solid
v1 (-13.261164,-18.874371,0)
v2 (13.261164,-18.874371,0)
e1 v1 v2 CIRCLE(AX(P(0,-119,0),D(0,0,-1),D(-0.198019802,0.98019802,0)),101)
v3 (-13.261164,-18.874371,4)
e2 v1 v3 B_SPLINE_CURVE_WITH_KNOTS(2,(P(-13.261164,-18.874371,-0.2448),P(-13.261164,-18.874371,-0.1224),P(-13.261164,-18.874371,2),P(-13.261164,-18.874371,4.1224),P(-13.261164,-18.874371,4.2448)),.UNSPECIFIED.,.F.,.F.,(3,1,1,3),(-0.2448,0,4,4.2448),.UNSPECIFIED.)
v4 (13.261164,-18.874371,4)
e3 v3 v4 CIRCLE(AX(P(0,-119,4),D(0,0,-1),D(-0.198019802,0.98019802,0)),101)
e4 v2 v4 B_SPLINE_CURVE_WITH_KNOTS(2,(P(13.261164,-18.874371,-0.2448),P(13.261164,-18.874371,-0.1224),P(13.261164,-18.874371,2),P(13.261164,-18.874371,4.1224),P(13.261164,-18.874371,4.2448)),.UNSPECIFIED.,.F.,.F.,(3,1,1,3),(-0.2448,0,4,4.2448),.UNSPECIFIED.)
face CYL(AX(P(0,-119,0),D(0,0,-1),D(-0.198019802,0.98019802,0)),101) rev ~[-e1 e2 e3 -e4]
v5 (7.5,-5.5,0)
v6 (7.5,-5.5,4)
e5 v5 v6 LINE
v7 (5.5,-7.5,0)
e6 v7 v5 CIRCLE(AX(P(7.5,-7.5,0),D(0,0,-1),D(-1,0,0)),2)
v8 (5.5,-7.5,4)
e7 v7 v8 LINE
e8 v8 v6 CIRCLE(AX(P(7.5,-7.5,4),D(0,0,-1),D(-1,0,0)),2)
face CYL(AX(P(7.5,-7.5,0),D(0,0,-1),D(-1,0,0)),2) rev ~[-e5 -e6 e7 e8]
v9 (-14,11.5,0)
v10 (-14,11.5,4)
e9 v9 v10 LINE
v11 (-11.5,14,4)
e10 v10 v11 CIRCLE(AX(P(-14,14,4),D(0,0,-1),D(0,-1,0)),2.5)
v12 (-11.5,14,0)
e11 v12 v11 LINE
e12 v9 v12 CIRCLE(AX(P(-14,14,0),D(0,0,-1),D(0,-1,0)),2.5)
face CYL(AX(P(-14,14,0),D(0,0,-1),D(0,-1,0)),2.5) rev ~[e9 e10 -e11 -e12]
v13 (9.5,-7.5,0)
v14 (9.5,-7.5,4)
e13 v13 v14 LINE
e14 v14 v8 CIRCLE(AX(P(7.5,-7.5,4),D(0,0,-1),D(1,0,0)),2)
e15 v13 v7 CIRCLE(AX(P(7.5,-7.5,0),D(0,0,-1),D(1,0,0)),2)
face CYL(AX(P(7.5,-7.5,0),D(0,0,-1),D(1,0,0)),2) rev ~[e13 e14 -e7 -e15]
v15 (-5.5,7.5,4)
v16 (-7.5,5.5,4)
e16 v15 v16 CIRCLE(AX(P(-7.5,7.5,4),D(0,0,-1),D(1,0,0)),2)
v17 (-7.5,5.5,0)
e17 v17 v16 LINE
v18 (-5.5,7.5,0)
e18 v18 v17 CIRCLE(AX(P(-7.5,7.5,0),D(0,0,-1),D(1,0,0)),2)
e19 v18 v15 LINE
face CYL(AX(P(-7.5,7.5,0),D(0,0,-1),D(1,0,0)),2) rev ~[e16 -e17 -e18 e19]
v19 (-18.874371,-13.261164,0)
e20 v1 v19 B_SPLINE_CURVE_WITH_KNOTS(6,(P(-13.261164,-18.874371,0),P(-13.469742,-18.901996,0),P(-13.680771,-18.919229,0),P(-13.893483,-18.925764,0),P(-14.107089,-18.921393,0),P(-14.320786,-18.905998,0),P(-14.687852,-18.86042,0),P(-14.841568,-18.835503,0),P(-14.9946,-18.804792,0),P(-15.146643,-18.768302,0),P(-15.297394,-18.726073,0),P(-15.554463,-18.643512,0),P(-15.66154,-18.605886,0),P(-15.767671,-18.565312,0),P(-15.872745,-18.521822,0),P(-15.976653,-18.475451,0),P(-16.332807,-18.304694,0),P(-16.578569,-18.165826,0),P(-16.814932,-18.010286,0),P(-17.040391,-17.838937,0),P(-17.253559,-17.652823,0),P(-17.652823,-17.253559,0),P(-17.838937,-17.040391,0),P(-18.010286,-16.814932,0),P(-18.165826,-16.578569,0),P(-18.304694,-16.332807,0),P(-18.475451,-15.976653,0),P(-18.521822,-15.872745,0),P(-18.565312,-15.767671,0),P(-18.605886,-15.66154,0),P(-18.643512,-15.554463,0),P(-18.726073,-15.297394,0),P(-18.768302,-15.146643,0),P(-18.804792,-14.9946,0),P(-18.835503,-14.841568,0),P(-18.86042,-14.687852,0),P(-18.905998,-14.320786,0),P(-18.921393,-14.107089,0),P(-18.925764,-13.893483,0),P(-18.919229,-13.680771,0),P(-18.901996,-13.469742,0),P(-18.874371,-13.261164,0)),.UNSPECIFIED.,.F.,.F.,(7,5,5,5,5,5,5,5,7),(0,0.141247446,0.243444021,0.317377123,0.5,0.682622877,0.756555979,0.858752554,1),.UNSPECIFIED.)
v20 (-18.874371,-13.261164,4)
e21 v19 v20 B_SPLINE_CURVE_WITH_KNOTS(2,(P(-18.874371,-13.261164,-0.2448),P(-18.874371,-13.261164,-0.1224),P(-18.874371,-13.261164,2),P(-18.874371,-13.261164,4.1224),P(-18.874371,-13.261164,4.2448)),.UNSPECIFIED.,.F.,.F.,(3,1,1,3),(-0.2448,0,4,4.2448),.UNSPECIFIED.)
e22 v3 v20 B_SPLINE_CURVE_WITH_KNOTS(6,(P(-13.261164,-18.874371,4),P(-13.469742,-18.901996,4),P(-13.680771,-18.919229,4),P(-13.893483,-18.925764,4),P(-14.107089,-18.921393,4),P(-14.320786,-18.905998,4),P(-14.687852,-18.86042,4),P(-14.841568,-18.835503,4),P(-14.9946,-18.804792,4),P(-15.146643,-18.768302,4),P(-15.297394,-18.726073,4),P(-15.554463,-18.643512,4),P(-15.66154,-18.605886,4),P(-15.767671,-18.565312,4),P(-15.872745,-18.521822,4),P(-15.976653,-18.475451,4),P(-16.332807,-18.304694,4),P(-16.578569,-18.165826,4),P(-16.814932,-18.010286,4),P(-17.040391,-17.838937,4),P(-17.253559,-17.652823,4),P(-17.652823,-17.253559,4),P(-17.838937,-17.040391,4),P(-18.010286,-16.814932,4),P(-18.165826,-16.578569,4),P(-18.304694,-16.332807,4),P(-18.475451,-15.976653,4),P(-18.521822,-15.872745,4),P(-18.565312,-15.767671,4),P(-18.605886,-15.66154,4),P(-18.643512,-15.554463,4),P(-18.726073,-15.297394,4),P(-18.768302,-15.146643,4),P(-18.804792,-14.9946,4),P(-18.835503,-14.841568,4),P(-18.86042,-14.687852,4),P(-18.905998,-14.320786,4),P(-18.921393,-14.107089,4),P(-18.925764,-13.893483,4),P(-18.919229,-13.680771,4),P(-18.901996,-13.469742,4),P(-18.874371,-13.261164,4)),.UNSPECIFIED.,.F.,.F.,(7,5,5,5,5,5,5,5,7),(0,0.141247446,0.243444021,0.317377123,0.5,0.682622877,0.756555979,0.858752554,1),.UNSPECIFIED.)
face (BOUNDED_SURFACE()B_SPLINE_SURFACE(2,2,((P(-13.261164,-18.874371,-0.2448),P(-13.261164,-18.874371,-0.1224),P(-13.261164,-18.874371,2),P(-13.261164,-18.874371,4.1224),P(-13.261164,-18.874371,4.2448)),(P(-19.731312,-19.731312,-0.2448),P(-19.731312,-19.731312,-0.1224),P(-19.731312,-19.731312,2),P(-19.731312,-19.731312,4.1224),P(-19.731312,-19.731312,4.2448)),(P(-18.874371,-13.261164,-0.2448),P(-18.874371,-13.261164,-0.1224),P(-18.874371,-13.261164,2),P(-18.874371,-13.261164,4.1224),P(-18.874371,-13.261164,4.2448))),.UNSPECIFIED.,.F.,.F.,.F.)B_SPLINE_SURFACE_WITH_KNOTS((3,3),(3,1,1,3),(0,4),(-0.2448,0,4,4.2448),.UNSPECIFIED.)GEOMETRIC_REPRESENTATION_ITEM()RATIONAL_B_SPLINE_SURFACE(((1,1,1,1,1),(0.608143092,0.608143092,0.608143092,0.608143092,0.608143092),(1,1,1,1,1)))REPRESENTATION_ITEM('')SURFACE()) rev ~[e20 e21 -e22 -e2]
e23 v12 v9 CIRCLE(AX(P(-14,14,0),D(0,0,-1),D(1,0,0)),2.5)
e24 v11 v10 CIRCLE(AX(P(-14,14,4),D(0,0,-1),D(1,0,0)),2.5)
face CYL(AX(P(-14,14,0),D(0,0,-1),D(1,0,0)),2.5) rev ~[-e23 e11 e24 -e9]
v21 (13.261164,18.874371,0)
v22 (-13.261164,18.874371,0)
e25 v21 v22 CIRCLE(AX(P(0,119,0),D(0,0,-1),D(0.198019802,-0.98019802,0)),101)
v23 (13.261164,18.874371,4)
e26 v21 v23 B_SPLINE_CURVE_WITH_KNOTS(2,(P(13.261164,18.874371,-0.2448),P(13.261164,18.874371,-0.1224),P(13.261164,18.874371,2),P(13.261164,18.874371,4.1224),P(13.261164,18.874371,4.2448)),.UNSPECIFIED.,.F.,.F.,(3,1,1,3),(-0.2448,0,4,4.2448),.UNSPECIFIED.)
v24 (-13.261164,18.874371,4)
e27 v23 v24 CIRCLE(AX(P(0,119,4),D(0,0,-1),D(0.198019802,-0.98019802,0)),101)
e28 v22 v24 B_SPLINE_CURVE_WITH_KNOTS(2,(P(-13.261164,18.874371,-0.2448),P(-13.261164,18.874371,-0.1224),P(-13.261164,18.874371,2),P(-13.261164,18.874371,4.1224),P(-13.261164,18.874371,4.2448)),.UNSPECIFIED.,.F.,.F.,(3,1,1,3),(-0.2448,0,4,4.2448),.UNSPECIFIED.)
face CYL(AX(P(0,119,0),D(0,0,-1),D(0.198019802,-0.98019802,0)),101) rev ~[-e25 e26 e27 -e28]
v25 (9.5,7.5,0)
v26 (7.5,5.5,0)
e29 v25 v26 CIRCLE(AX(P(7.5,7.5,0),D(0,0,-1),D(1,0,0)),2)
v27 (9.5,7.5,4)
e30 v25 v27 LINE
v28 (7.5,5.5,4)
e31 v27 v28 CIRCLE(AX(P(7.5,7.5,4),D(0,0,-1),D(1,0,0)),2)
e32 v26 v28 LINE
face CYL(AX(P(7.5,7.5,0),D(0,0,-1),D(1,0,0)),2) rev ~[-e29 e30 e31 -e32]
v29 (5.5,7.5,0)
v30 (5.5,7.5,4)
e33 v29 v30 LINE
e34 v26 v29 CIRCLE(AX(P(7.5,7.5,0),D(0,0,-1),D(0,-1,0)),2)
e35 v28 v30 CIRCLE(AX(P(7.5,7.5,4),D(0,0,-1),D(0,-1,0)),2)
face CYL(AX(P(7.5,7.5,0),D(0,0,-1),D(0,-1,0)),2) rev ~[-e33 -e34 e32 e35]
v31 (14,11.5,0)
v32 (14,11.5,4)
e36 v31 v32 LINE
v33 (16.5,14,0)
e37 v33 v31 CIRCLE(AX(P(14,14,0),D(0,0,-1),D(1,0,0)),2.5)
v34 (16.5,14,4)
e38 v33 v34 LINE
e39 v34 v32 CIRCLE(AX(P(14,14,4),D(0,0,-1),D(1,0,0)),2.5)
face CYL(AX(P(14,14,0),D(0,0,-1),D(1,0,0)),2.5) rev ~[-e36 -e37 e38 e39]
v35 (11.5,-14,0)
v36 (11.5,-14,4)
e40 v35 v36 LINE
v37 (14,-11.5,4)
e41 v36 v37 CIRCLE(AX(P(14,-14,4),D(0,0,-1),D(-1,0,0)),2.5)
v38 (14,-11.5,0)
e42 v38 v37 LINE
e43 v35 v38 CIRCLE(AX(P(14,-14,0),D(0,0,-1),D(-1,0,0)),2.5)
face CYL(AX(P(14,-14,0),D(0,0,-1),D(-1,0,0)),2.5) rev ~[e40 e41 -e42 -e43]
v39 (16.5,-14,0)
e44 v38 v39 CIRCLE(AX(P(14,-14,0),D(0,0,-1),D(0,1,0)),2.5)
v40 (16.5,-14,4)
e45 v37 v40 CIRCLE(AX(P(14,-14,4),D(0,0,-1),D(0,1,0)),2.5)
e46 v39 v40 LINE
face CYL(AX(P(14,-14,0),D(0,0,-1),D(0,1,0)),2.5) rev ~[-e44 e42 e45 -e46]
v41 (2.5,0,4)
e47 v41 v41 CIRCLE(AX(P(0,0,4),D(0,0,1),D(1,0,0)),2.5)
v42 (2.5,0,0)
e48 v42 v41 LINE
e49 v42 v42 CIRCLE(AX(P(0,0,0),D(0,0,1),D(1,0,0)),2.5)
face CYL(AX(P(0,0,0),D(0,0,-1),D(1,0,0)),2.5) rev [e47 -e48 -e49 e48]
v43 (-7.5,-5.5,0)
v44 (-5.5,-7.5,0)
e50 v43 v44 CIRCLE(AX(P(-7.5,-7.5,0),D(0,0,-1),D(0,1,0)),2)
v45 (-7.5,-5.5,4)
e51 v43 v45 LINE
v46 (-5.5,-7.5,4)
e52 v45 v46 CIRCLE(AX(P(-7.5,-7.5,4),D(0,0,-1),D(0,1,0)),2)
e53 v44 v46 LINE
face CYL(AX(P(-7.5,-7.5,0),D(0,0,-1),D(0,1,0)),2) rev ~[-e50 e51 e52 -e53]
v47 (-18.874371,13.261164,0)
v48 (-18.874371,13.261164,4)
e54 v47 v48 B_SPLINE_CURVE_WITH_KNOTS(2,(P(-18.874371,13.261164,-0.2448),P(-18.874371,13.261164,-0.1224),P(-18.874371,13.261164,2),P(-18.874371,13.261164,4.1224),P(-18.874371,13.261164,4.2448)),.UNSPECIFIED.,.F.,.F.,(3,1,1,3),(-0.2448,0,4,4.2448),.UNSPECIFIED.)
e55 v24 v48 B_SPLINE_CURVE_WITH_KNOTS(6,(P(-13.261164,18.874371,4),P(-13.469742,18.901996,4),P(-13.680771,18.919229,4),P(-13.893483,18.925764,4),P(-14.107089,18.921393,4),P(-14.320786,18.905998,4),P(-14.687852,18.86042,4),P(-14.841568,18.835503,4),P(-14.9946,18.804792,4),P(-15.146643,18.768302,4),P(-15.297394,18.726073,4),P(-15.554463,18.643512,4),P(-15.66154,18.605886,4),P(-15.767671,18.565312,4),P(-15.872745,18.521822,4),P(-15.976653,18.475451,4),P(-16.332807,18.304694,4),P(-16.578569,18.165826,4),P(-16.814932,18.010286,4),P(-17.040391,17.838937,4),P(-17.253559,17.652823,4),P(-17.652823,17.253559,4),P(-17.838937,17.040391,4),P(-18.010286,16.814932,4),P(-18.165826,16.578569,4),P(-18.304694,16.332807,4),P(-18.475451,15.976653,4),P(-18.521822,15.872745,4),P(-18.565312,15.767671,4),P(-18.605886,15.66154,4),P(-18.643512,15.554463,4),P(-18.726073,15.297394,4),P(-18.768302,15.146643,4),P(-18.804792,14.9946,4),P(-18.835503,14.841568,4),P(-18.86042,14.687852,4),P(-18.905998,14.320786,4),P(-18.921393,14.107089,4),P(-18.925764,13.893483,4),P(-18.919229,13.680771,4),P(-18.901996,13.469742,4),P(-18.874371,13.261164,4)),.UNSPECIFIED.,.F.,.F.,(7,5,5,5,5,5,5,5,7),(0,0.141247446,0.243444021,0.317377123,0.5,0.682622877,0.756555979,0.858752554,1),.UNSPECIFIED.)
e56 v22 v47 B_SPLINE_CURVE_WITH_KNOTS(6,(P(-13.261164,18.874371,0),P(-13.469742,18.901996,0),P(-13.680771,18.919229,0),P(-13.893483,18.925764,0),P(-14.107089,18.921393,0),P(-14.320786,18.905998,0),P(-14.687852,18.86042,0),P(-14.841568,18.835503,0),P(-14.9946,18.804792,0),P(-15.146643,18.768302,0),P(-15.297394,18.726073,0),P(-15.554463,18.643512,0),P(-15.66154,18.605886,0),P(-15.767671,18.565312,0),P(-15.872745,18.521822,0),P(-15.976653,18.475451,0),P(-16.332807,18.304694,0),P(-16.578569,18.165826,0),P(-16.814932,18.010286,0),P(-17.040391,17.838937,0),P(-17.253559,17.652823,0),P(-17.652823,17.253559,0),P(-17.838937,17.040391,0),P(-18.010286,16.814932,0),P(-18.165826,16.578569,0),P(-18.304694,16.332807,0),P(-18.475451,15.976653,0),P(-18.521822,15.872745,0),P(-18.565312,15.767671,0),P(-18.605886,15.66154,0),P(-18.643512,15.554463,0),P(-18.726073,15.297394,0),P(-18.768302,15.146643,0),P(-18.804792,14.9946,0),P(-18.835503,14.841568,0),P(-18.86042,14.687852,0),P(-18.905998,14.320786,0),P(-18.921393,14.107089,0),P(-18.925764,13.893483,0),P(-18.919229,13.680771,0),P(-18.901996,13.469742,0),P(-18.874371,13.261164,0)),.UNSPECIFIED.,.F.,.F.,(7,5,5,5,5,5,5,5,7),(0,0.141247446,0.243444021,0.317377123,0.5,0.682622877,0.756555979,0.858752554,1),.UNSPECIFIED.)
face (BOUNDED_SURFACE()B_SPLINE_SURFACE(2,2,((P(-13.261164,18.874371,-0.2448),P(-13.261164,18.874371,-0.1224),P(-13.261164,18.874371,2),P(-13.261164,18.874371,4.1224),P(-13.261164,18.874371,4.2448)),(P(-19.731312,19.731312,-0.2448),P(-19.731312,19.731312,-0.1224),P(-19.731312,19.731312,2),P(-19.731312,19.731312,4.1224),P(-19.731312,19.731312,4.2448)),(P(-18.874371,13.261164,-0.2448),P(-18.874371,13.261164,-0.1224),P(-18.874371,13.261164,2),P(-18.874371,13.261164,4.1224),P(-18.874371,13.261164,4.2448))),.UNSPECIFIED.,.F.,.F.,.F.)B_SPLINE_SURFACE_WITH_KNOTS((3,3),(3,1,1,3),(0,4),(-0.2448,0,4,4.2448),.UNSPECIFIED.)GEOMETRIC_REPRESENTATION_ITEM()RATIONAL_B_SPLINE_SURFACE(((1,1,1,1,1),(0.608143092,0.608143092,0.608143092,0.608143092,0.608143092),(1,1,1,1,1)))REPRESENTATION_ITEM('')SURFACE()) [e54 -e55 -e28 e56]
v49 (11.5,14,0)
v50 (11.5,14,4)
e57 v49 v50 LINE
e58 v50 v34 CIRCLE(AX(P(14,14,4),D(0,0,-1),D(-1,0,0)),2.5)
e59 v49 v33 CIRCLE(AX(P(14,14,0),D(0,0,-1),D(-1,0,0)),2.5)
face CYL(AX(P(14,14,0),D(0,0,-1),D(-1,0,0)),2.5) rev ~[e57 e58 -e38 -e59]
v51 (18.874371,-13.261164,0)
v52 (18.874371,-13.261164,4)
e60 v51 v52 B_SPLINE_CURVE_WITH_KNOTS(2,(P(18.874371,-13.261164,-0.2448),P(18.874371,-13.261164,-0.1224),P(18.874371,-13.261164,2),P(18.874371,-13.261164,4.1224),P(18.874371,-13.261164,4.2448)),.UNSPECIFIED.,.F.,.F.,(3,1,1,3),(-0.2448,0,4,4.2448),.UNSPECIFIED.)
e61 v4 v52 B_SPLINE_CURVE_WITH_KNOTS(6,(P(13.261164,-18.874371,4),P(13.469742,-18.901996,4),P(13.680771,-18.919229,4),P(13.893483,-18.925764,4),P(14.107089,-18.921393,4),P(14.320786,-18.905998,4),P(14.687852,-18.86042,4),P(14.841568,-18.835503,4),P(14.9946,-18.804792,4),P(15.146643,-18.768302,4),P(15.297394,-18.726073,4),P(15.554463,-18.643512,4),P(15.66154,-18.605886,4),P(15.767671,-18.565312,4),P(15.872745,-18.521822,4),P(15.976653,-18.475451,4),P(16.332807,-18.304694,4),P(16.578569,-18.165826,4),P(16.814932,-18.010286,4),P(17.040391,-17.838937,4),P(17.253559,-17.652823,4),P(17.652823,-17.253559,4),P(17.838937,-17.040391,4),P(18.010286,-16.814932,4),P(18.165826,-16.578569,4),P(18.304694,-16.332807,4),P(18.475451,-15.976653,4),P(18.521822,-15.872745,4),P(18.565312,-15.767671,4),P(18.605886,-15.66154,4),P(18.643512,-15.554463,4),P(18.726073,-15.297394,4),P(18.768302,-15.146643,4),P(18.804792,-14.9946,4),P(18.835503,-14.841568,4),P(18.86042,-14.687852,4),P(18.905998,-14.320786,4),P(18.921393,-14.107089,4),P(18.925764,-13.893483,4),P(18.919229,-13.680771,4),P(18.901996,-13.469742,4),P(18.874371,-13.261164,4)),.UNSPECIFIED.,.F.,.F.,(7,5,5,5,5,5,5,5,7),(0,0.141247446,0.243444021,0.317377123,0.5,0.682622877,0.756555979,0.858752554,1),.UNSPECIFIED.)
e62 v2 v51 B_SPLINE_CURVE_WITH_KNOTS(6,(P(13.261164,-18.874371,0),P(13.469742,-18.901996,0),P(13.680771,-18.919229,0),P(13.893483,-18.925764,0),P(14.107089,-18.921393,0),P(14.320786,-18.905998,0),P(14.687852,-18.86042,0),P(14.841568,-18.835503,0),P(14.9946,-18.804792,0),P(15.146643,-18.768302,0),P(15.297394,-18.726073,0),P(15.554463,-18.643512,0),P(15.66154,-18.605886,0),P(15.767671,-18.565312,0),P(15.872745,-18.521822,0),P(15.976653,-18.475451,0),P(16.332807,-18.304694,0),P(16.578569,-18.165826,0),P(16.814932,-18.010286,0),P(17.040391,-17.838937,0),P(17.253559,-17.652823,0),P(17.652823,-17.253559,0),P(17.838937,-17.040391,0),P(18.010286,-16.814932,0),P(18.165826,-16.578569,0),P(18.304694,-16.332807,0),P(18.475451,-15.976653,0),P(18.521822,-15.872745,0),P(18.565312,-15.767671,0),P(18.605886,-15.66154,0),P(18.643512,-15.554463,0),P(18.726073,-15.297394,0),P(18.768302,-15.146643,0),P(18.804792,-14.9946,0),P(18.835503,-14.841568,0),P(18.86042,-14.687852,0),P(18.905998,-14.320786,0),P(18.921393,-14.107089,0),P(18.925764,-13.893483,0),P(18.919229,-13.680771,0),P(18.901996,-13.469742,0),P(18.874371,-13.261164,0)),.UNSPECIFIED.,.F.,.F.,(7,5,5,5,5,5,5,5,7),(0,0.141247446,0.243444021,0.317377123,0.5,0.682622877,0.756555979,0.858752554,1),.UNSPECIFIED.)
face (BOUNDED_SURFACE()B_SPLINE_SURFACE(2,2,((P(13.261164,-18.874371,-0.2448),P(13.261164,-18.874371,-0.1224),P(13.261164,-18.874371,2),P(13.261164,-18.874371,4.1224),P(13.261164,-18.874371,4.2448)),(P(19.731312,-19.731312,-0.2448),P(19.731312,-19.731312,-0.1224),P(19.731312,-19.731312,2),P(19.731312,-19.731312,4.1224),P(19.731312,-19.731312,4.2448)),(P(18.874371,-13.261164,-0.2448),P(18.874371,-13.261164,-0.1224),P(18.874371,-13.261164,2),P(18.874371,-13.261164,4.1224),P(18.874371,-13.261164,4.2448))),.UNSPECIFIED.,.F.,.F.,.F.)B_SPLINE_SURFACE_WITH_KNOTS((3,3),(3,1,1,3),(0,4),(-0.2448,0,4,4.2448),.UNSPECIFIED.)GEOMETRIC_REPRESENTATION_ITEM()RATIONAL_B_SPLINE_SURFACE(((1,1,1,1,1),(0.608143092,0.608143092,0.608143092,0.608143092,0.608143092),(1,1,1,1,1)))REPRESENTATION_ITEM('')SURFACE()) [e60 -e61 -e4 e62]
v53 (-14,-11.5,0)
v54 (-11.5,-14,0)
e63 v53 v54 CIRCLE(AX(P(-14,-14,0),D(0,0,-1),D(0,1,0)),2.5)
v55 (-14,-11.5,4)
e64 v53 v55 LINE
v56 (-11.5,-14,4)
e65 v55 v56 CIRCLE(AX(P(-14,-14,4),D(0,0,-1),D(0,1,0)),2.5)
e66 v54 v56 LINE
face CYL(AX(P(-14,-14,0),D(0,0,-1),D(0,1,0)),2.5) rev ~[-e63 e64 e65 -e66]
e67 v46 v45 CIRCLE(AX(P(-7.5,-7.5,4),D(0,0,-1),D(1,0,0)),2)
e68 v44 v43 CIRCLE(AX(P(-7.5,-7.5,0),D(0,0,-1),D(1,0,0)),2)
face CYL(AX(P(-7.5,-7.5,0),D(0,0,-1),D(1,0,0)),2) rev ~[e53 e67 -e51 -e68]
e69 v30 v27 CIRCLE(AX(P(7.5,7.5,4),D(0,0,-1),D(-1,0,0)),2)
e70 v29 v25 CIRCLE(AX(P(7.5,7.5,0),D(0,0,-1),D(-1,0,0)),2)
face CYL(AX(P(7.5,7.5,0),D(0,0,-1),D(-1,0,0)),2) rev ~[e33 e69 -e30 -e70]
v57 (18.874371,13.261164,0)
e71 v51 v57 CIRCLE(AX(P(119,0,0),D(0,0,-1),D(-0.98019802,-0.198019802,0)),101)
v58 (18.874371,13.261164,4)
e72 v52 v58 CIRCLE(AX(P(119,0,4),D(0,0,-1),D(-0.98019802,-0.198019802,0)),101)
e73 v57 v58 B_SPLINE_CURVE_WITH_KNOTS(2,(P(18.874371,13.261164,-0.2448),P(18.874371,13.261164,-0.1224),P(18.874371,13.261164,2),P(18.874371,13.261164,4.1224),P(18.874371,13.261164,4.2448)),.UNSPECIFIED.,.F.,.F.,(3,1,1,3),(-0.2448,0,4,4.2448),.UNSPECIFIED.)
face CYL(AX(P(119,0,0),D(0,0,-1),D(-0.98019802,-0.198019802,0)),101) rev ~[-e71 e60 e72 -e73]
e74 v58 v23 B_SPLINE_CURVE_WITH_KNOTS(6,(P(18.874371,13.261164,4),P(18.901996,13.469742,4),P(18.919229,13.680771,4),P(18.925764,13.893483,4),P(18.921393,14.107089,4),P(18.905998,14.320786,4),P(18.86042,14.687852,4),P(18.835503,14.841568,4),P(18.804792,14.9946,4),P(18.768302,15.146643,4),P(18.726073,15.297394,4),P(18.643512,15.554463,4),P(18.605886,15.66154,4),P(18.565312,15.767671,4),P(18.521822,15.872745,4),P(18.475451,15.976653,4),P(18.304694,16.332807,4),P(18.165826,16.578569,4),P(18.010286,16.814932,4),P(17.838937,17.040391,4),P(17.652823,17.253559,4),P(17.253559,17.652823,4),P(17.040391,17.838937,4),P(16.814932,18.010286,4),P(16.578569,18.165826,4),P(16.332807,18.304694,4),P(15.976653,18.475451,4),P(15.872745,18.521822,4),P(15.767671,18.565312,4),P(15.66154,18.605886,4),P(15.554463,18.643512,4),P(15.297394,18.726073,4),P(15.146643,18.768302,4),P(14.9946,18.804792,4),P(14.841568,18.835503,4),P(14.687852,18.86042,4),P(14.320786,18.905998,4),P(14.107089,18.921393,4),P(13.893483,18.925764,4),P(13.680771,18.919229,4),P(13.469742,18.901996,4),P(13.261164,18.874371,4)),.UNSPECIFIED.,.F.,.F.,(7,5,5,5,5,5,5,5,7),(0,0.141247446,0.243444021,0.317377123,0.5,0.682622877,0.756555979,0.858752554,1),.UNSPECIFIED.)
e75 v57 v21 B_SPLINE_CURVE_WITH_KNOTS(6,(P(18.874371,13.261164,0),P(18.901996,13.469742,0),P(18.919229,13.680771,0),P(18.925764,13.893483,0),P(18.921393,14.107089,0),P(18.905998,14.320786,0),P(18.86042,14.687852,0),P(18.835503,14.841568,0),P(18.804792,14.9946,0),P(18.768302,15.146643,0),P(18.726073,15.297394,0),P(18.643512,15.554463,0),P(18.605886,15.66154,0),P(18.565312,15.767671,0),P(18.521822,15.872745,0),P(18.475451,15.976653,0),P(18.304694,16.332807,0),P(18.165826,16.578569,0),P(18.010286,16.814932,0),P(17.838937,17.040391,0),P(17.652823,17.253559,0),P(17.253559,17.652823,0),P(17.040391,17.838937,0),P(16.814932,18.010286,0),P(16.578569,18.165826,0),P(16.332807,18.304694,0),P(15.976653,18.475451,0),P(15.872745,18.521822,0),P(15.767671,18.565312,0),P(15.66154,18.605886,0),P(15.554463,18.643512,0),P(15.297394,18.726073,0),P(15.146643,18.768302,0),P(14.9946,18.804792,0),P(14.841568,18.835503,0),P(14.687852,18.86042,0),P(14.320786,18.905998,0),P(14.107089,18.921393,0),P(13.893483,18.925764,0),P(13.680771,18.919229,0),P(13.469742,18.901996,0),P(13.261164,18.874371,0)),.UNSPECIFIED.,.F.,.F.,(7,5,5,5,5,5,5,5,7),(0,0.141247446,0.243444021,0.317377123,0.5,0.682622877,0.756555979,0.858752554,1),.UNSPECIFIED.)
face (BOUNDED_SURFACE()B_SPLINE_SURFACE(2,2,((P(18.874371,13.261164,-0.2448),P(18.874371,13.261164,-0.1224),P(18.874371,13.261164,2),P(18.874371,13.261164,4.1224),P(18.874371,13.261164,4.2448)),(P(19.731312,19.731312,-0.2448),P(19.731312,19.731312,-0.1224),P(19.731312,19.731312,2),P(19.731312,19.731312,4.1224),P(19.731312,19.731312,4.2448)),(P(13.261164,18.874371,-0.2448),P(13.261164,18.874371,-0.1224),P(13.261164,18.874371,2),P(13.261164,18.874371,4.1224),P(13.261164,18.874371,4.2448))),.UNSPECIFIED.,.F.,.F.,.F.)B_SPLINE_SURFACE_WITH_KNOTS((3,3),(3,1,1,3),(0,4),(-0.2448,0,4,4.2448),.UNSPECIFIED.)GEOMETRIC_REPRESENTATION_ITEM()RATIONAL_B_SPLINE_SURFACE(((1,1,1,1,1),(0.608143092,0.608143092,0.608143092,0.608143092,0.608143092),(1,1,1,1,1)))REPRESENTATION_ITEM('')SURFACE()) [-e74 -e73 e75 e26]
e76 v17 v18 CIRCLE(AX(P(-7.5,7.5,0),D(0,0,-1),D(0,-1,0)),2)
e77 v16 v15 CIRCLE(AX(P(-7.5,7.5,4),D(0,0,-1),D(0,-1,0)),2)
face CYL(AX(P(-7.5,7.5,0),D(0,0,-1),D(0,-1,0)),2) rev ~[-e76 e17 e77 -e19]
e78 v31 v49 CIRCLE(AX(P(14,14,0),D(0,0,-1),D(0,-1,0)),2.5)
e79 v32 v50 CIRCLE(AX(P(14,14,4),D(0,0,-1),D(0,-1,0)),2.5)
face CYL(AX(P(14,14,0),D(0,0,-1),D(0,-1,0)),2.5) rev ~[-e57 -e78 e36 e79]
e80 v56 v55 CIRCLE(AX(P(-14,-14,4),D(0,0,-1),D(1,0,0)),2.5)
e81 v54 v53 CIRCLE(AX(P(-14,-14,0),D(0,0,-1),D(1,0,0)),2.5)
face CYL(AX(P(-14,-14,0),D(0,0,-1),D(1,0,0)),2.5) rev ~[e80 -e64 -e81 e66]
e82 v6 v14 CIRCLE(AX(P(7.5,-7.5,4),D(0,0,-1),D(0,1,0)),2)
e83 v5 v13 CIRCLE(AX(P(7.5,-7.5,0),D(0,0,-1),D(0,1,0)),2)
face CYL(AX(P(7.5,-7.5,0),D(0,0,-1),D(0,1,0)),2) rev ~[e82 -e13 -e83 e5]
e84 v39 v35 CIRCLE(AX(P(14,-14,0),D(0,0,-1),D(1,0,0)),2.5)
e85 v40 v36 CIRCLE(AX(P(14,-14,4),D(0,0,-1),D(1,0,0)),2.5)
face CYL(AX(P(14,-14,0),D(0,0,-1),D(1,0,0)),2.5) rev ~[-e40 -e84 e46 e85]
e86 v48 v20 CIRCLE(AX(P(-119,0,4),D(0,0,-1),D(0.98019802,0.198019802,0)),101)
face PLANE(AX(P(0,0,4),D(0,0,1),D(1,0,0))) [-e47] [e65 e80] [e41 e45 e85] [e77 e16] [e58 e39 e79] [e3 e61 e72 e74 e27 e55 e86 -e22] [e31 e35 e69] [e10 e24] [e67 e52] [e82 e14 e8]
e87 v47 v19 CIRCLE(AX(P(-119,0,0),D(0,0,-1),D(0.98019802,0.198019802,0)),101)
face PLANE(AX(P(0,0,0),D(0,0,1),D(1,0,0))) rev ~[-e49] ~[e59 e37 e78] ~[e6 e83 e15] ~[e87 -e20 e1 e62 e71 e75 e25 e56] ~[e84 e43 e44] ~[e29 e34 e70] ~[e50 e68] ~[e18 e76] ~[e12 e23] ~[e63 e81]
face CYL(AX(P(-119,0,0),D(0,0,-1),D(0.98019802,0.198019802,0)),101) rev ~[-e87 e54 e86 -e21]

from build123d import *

# Parameters (mm, degrees)
F0_R     = 2.5
F1_DEPTH = 4
F2_R     = 5


with BuildPart() as f1:
    # F0 (on Top) → F1 (new body)
    with BuildSketch(Plane.XY):
        with BuildLine():
            ThreePointArc((-20, -20), (0, -18), (20, -20))
            ThreePointArc((20, -20), (18, 0), (20, 20))
            ThreePointArc((20, 20), (0, 18), (-20, 20))
            ThreePointArc((-20, 20), (-18, 0), (-20, -20))
        make_face()
        with BuildLine():
            ThreePointArc((16.5, 14), (15.767766953, 12.232233047), (14, 11.5))
            Line((14, 11.5), (14, -11.5))
            ThreePointArc((14, -11.5), (15.767766953, -12.232233047), (16.5, -14))
            ThreePointArc((16.5, -14), (14, -16.5), (11.5, -14))
            Line((11.5, -14), (-11.5, -14))
            ThreePointArc((-11.5, -14), (-15.767766953, -15.767766953), (-14, -11.5))
            Line((-14, -11.5), (-14, 11.5))
            ThreePointArc((-14, 11.5), (-15.767766953, 15.767766953), (-11.5, 14))
            Line((-11.5, 14), (11.5, 14))
            ThreePointArc((11.5, 14), (14, 16.5), (16.5, 14))
        make_face(mode=Mode.SUBTRACT)
        with BuildLine():
            Line((14, -11.5), (14, 11.5))
            ThreePointArc((14, 11.5), (12.232233047, 12.232233047), (11.5, 14))
            Line((11.5, 14), (-11.5, 14))
            ThreePointArc((-11.5, 14), (-12.232233047, 12.232233047), (-14, 11.5))
            Line((-14, 11.5), (-14, -11.5))
            ThreePointArc((-14, -11.5), (-12.232233047, -12.232233047), (-11.5, -14))
            Line((-11.5, -14), (11.5, -14))
            ThreePointArc((11.5, -14), (12.232233047, -12.232233047), (14, -11.5))
        make_face()
        with BuildLine():
            Line((2.5, -7.5), (-2.5, -7.5))
            ThreePointArc((-2.5, -7.5), (-11.0355339059, -11.0355339059), (-7.5, -2.5))
            Line((-7.5, -2.5), (-7.5, 2.5))
            ThreePointArc((-7.5, 2.5), (-11.0355339059, 11.0355339059), (-2.5, 7.5))
            Line((-2.5, 7.5), (2.5, 7.5))
            ThreePointArc((2.5, 7.5), (7.5, 12.5), (12.5, 7.5))
            ThreePointArc((12.5, 7.5), (11.0355339059, 3.9644660941), (7.5, 2.5))
            Line((7.5, 2.5), (7.5, -2.5))
            ThreePointArc((7.5, -2.5), (11.0355339059, -3.9644660941), (12.5, -7.5))
            ThreePointArc((12.5, -7.5), (7.5, -12.5), (2.5, -7.5))
        make_face(mode=Mode.SUBTRACT)
        with BuildLine():
            ThreePointArc((-7.5, -2.5), (-3.9644660941, -3.9644660941), (-2.5, -7.5))
            Line((-2.5, -7.5), (2.5, -7.5))
            ThreePointArc((2.5, -7.5), (3.9644660941, -3.9644660941), (7.5, -2.5))
            Line((7.5, -2.5), (7.5, 2.5))
            ThreePointArc((7.5, 2.5), (3.9644660941, 3.9644660941), (2.5, 7.5))
            Line((2.5, 7.5), (-2.5, 7.5))
            ThreePointArc((-2.5, 7.5), (-3.9644660941, 3.9644660941), (-7.5, 2.5))
            Line((-7.5, 2.5), (-7.5, -2.5))
        make_face()
        Circle(F0_R, mode=Mode.SUBTRACT)
        with BuildLine():
            Line((-7.5, 5.5), (-7.5, 2.5))
            ThreePointArc((-7.5, 2.5), (-3.9644660941, 3.9644660941), (-2.5, 7.5))
            Line((-2.5, 7.5), (-5.5, 7.5))
            ThreePointArc((-5.5, 7.5), (-6.0857864376, 6.0857864376), (-7.5, 5.5))
        make_face()
        with BuildLine():
            ThreePointArc((-2.5, 7.5), (-11.0355339059, 11.0355339059), (-7.5, 2.5))
            Line((-7.5, 2.5), (-7.5, 5.5))
            ThreePointArc((-7.5, 5.5), (-8.9142135624, 8.9142135624), (-5.5, 7.5))
            Line((-5.5, 7.5), (-2.5, 7.5))
        make_face()
        with BuildLine():
            Line((7.5, 5.5), (7.5, 2.5))
            ThreePointArc((7.5, 2.5), (11.0355339059, 3.9644660941), (12.5, 7.5))
            ThreePointArc((12.5, 7.5), (7.5, 12.5), (2.5, 7.5))
            Line((2.5, 7.5), (5.5, 7.5))
            ThreePointArc((5.5, 7.5), (7.5, 9.5), (9.5, 7.5))
            ThreePointArc((9.5, 7.5), (8.9142135624, 6.0857864376), (7.5, 5.5))
        make_face()
        with BuildLine():
            ThreePointArc((2.5, 7.5), (3.9644660941, 3.9644660941), (7.5, 2.5))
            Line((7.5, 2.5), (7.5, 5.5))
            ThreePointArc((7.5, 5.5), (6.0857864376, 6.0857864376), (5.5, 7.5))
            Line((5.5, 7.5), (2.5, 7.5))
        make_face()
        with BuildLine():
            ThreePointArc((-7.5, -2.5), (-11.0355339059, -11.0355339059), (-2.5, -7.5))
            Line((-2.5, -7.5), (-5.5, -7.5))
            ThreePointArc((-5.5, -7.5), (-8.9142135624, -8.9142135624), (-7.5, -5.5))
            Line((-7.5, -5.5), (-7.5, -2.5))
        make_face()
        with BuildLine():
            Line((5.5, -7.5), (2.5, -7.5))
            ThreePointArc((2.5, -7.5), (7.5, -12.5), (12.5, -7.5))
            ThreePointArc((12.5, -7.5), (11.0355339059, -3.9644660941), (7.5, -2.5))
            Line((7.5, -2.5), (7.5, -5.5))
            ThreePointArc((7.5, -5.5), (8.9142135624, -6.0857864376), (9.5, -7.5))
            ThreePointArc((9.5, -7.5), (7.5, -9.5), (5.5, -7.5))
        make_face()
        with BuildLine():
            ThreePointArc((7.5, -2.5), (3.9644660941, -3.9644660941), (2.5, -7.5))
            Line((2.5, -7.5), (5.5, -7.5))
            ThreePointArc((5.5, -7.5), (6.0857864376, -6.0857864376), (7.5, -5.5))
            Line((7.5, -5.5), (7.5, -2.5))
        make_face()
        with BuildLine():
            Line((-5.5, -7.5), (-2.5, -7.5))
            ThreePointArc((-2.5, -7.5), (-3.9644660941, -3.9644660941), (-7.5, -2.5))
            Line((-7.5, -2.5), (-7.5, -5.5))
            ThreePointArc((-7.5, -5.5), (-6.0857864376, -6.0857864376), (-5.5, -7.5))
        make_face()
    extrude(amount=F1_DEPTH)

    # F2
    f2_edges = [f1.edges().sort_by_distance(p)[0] for p in [
        (20, -20, 2),
        (20, 20, 2),
        (-20, -20, 2),
        (-20, 20, 2),
    ]]
    fillet(f2_edges, radius=F2_R)


solid = f1.part
